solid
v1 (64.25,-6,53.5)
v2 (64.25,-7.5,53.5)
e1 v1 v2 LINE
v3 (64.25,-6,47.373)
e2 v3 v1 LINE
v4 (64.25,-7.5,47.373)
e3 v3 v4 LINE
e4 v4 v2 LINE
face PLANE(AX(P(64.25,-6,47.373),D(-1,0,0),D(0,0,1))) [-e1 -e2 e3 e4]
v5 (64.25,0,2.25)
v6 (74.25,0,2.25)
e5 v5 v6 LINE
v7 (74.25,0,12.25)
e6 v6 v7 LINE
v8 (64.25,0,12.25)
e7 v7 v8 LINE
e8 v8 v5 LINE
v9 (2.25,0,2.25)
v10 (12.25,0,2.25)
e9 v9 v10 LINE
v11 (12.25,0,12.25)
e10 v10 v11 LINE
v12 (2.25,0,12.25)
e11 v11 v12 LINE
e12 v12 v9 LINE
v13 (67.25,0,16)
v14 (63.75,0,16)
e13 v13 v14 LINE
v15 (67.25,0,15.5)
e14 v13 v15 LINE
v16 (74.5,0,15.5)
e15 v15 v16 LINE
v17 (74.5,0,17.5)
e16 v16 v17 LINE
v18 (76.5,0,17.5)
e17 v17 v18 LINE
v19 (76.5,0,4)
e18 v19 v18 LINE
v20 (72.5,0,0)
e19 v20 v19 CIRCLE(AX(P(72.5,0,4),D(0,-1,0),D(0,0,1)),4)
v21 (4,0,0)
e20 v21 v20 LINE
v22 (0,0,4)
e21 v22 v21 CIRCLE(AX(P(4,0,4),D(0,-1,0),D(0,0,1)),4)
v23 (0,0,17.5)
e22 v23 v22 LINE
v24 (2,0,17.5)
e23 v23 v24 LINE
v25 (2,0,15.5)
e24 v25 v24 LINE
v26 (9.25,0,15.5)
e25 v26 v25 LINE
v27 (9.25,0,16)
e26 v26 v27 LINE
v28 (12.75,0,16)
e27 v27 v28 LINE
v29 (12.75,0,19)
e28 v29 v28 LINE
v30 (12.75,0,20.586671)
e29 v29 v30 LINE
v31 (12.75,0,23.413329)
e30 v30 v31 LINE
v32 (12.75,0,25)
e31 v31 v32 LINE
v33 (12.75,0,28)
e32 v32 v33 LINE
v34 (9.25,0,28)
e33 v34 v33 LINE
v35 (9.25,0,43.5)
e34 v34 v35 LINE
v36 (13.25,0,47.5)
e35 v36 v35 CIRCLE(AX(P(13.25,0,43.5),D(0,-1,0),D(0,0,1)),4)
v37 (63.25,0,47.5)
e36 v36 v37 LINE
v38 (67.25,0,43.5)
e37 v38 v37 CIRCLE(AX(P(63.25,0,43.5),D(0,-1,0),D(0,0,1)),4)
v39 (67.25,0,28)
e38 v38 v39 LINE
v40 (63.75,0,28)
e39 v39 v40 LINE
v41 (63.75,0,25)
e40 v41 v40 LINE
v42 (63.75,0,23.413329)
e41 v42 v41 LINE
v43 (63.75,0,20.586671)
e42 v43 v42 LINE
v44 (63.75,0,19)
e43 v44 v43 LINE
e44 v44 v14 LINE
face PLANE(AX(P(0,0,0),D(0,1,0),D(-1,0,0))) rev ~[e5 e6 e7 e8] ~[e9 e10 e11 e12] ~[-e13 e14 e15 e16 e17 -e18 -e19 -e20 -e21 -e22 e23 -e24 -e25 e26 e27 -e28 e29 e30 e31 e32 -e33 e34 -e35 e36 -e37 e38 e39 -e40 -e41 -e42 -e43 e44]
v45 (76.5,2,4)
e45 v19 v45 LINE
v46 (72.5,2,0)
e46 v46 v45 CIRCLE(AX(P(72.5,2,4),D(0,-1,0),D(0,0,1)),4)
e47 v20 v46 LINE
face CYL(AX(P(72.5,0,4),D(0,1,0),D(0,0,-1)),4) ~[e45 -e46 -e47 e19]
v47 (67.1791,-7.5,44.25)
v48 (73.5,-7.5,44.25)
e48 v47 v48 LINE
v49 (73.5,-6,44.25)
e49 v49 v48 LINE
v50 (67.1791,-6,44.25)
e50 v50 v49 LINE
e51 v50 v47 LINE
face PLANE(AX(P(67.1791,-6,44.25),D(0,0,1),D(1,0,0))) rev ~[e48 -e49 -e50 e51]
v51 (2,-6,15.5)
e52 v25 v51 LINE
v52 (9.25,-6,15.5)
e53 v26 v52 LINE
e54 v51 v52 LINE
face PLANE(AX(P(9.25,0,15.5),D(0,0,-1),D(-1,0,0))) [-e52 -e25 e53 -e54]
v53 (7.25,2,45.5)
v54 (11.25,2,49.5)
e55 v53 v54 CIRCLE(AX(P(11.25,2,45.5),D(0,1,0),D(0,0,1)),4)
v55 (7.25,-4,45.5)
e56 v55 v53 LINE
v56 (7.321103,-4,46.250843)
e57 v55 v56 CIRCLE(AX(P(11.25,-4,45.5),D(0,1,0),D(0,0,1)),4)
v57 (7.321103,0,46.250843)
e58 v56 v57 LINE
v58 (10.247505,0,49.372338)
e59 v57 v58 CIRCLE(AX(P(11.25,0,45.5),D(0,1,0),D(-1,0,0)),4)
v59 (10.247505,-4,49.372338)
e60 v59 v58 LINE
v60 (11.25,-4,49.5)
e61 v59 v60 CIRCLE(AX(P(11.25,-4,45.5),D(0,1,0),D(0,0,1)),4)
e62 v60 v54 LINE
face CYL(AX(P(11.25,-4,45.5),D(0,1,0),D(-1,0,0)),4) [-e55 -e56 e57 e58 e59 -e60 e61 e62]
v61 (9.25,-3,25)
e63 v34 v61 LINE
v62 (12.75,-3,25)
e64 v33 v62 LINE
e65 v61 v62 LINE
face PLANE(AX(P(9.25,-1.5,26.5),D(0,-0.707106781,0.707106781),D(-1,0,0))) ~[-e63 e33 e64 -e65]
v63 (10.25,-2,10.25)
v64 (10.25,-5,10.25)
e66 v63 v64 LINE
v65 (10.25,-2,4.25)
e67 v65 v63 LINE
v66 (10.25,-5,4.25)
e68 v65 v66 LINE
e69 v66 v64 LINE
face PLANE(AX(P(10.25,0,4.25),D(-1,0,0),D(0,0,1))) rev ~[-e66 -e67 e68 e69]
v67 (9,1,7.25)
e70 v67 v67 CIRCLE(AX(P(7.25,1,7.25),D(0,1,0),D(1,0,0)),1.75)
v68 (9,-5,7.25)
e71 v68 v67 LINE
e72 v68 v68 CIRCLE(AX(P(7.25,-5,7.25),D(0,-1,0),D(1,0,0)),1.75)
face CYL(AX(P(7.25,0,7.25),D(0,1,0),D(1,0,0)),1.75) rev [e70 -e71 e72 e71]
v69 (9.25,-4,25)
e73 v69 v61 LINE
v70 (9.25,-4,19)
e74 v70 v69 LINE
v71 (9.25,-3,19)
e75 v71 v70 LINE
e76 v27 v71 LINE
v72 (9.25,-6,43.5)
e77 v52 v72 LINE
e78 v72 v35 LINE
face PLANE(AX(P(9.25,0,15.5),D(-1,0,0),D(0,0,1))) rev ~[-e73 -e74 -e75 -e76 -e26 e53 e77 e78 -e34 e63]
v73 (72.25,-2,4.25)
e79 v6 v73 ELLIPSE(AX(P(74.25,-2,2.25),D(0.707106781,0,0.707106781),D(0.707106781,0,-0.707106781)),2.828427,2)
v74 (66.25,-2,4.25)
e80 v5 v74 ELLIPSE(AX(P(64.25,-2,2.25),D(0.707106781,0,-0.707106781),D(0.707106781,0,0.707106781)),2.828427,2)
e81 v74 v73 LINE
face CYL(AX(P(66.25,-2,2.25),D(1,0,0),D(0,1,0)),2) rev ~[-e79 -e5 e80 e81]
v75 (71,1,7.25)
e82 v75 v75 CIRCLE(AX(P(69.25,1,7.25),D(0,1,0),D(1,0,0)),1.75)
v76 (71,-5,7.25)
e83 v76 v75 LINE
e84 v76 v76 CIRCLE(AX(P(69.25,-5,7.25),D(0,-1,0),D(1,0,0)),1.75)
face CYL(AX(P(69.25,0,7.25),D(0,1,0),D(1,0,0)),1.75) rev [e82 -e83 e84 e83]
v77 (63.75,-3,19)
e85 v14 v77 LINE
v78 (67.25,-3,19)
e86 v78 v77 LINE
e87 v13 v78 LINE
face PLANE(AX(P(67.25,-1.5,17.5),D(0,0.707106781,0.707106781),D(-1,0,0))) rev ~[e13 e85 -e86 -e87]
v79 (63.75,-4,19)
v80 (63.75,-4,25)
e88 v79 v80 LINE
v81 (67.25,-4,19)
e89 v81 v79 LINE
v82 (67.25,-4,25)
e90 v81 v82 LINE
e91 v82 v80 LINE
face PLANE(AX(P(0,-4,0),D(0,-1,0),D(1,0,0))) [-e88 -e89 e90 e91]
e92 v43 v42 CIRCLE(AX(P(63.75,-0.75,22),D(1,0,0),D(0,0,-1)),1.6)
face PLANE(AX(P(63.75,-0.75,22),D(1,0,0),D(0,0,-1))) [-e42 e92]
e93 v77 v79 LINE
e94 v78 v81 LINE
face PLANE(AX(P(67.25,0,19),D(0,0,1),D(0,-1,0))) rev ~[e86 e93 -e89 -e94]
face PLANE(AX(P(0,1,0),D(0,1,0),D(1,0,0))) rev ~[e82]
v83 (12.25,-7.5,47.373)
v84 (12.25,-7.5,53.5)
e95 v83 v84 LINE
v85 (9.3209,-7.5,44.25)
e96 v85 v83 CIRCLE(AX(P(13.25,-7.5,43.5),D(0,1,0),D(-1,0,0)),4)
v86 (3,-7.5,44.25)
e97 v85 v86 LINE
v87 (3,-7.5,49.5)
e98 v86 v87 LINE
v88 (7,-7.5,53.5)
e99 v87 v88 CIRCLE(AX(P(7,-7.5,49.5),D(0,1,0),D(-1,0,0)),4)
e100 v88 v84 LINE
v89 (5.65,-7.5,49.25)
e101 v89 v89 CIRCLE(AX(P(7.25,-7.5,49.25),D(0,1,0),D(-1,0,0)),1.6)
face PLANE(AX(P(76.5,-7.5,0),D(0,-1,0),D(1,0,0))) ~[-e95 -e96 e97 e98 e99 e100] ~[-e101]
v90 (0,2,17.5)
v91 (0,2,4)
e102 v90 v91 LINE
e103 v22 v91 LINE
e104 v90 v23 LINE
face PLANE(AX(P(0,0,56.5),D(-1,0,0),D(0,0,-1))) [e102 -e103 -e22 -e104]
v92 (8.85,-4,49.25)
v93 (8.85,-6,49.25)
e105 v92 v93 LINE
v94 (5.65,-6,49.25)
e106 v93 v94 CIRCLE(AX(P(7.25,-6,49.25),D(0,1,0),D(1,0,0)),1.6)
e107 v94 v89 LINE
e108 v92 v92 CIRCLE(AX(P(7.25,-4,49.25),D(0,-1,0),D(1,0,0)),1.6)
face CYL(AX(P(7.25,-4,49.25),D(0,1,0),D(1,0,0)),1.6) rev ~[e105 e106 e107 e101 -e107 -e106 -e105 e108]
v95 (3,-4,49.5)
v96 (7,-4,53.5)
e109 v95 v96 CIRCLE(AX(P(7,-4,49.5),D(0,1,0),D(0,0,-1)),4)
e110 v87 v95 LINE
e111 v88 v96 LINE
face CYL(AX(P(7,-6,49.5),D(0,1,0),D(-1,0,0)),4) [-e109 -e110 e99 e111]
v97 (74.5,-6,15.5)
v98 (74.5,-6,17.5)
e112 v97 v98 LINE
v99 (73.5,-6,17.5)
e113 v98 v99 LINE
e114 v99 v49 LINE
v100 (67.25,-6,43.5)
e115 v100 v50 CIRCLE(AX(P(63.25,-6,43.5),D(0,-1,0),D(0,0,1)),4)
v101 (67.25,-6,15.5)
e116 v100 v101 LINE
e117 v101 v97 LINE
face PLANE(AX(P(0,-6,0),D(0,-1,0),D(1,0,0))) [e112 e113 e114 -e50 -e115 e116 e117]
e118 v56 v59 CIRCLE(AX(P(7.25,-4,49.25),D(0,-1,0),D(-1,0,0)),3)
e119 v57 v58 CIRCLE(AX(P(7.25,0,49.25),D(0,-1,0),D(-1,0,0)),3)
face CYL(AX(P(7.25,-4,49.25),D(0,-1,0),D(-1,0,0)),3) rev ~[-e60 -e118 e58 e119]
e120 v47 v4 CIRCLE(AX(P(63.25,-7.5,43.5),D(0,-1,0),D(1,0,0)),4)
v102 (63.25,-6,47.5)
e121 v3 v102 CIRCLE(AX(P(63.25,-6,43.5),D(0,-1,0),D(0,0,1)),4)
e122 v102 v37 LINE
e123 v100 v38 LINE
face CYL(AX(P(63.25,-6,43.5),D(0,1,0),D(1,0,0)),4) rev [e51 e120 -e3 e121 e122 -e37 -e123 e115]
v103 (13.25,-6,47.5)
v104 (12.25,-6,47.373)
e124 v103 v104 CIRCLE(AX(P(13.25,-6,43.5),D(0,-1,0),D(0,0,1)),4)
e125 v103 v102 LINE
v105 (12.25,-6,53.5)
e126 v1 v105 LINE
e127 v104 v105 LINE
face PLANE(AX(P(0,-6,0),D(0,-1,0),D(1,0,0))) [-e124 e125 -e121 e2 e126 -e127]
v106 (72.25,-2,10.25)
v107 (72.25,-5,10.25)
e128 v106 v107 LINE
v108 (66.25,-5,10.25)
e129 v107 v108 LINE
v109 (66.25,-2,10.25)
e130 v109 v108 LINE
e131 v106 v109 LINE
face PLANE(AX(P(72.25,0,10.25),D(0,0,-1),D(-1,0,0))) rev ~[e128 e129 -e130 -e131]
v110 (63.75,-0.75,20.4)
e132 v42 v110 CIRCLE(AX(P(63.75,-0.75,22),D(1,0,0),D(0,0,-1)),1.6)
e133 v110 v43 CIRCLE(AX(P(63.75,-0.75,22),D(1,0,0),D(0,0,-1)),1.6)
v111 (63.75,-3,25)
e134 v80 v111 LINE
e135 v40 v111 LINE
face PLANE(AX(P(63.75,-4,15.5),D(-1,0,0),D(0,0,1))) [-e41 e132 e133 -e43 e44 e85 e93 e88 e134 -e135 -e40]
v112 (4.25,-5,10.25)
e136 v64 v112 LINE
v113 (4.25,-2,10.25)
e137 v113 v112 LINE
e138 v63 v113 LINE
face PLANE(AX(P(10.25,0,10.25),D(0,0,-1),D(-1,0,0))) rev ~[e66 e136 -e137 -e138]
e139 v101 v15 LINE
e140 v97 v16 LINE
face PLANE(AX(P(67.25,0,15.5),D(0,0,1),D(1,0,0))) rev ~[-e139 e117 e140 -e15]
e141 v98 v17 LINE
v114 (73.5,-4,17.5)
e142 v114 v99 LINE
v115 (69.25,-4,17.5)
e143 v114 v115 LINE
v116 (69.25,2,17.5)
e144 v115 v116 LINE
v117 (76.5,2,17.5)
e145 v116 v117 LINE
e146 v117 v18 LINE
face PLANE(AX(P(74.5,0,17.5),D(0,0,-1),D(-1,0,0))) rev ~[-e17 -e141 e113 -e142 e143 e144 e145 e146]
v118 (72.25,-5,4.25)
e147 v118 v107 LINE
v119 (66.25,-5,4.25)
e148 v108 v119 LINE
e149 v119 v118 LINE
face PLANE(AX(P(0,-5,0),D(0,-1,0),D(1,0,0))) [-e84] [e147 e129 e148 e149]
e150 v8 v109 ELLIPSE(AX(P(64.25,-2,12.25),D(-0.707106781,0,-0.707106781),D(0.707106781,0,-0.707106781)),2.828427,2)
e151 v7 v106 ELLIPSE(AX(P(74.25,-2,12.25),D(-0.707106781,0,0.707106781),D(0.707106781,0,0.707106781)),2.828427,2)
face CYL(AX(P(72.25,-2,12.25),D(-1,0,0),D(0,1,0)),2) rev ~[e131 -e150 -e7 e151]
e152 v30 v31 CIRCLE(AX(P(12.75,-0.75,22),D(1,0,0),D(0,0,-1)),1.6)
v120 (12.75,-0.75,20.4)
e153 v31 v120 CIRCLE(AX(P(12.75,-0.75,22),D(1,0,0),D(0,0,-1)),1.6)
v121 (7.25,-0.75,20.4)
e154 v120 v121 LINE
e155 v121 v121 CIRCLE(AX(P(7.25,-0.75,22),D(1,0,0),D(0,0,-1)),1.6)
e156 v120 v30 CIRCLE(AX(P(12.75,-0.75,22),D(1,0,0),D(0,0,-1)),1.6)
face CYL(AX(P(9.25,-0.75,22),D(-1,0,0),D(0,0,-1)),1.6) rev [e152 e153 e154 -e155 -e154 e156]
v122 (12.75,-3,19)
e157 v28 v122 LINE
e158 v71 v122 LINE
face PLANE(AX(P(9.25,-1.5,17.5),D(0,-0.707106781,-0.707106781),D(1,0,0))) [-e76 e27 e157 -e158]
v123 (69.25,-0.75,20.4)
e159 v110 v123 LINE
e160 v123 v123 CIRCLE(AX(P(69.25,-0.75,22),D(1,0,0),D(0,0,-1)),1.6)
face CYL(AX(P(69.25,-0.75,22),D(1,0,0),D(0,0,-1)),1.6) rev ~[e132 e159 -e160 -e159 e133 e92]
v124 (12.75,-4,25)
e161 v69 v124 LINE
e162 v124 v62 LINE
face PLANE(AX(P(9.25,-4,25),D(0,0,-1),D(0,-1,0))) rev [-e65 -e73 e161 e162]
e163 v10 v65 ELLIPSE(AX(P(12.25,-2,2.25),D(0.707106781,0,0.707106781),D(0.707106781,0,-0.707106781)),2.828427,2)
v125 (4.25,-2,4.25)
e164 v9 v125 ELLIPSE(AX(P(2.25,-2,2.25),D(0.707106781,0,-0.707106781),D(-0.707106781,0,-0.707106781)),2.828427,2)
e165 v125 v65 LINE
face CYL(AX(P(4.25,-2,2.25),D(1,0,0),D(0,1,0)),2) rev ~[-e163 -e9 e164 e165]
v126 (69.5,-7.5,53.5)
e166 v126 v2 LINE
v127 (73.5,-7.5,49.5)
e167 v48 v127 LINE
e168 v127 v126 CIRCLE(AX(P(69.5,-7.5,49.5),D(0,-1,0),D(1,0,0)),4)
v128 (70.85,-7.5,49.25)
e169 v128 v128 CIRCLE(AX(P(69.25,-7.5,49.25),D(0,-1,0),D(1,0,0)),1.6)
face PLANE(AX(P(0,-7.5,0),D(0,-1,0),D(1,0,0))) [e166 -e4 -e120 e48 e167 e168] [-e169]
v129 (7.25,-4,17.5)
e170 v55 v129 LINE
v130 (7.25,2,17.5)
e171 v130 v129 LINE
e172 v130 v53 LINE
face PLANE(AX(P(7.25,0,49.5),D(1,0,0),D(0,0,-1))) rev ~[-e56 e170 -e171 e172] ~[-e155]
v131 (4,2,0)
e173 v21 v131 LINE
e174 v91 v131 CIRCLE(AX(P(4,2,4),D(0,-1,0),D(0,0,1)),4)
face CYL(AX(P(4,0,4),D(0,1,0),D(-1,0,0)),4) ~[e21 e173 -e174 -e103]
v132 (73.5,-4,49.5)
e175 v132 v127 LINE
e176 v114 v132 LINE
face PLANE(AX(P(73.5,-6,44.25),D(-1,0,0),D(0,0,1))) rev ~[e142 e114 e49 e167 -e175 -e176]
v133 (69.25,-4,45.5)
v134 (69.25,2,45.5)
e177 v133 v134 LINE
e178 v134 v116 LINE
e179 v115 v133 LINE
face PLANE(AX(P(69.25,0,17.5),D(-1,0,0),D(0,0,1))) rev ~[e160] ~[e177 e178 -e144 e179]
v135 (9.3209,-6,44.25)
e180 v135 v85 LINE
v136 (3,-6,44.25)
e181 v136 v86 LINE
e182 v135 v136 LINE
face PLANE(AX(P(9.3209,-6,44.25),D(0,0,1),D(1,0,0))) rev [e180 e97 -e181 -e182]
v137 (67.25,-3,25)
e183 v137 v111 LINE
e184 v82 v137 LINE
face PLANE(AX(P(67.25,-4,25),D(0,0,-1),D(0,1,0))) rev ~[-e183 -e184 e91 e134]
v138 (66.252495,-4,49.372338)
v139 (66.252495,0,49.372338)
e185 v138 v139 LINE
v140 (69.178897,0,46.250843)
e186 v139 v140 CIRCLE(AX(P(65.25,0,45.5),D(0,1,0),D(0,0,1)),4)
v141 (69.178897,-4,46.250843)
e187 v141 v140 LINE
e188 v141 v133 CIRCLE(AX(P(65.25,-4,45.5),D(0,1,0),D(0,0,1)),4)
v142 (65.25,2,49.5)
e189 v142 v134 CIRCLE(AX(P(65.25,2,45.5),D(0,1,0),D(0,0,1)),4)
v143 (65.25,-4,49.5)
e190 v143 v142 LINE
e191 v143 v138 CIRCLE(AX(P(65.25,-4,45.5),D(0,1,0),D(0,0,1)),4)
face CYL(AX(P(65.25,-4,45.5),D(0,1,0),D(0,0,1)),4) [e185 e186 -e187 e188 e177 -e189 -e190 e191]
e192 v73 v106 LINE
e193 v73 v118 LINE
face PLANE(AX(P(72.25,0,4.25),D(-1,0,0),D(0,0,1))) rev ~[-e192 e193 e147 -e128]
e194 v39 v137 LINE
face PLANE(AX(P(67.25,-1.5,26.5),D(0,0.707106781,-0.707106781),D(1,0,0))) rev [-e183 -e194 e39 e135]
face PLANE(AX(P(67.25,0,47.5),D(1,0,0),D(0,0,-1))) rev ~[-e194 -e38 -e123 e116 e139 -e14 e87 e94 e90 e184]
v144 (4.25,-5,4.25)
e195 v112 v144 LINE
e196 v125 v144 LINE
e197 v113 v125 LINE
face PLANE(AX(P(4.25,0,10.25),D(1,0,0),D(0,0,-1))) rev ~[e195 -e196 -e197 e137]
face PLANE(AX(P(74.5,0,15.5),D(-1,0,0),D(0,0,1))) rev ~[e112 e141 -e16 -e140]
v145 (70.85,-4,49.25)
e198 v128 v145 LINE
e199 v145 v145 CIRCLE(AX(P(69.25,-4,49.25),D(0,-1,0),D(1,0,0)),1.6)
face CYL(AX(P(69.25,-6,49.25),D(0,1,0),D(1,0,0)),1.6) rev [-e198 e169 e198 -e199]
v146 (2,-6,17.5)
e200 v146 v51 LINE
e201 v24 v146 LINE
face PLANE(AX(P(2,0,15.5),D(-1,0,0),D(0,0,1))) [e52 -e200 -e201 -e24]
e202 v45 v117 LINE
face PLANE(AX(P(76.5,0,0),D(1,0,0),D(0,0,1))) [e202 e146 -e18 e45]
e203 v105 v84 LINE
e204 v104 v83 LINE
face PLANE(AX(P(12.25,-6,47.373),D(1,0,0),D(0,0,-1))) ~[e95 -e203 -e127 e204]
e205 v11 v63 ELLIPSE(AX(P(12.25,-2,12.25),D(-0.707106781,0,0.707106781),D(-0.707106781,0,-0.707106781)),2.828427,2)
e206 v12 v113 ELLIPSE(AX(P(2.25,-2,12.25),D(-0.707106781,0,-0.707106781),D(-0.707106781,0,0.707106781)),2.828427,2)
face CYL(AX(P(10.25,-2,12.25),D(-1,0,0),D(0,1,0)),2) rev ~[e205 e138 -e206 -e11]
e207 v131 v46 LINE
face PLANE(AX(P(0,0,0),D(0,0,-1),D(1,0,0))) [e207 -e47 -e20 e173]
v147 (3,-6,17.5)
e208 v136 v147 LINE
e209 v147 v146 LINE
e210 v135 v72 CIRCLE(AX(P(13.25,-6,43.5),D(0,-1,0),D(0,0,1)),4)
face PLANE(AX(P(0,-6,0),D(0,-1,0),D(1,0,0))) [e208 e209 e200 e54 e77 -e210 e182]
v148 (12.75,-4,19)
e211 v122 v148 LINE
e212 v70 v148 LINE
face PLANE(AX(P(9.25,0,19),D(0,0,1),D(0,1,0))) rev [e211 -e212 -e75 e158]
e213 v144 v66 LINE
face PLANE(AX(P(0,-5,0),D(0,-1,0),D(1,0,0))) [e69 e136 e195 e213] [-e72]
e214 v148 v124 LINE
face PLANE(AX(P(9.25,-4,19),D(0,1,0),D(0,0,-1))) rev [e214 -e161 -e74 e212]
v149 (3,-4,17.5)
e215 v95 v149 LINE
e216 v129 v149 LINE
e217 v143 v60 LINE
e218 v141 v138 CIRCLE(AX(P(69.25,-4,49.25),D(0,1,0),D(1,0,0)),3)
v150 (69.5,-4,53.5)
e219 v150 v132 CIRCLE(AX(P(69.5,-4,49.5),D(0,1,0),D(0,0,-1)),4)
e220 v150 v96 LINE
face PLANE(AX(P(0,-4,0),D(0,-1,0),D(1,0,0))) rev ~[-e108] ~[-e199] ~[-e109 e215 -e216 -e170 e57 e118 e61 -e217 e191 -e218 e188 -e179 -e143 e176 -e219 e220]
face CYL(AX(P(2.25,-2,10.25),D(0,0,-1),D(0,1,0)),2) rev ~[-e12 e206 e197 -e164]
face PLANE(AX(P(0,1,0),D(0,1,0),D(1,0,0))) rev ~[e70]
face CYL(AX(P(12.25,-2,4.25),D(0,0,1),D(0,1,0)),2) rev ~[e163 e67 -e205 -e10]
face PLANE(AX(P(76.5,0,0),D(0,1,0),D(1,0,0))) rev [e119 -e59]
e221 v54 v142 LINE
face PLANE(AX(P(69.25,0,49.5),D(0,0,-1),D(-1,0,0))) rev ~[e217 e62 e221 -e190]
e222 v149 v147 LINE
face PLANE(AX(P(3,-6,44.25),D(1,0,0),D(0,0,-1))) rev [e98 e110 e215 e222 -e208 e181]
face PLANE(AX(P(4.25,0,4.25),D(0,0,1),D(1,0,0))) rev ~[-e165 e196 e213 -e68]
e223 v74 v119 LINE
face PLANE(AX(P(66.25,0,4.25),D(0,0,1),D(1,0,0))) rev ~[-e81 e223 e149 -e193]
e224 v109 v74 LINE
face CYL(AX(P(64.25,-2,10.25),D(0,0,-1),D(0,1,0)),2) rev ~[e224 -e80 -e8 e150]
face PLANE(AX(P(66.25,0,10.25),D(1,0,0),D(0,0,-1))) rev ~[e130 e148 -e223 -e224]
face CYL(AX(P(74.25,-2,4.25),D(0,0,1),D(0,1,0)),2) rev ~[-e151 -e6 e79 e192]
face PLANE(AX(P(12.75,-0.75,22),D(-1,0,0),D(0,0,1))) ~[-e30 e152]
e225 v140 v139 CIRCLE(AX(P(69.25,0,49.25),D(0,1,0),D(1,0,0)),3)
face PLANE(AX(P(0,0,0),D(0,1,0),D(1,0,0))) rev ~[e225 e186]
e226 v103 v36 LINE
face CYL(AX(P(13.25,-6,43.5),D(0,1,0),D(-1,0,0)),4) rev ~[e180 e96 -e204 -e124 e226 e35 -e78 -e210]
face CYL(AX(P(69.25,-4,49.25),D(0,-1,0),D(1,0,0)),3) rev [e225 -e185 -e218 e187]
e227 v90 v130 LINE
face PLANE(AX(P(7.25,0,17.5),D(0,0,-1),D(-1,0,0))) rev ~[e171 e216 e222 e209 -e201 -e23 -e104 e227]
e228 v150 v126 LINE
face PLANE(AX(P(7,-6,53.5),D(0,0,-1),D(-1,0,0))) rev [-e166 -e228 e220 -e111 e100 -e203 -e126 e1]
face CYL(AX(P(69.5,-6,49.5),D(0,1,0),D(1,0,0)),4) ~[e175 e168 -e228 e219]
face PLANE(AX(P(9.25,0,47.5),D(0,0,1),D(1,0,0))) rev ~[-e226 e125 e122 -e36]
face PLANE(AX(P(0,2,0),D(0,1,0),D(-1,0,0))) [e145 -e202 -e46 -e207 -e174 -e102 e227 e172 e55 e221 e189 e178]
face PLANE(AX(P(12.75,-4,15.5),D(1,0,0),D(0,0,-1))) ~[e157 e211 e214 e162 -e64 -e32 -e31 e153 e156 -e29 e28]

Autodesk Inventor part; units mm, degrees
ref_plane "YZ Plane" through (0, 0, 0) normal (1, 0, 0) x (0, 1, 0)
ref_plane "XZ Plane" through (0, 0, 0) normal (0, 1, 0) x (-1, 0, 0)
ref_plane "XY Plane" through (0, 0, 0) normal (0, 0, 1) x (1, 0, 0)
sketch "Sketch1" plane through (0, 0, 0) normal (0, 1, 0) x (-1, 0, 0)
  line L0 (0, 0) -> (-76.5, 0)
  line L1 (-76.5, 0) -> (-76.5, 56.5)
  line L2 (-76.5, 56.5) -> (0, 56.5)
  line L3 (0, 56.5) -> (0, 0)
  dimension "d0" = 76.5
  dimension "d1" = 56.5
extrude "Extrusion1" add sketch "Sketch1" along normal blind 2
ref_plane "Work Plane1" through (0, 0, 28.25) normal (0, 0, 1) x (1, 0, 0)
ref_plane "Work Plane2" through (38.25, 0, 0) normal (-1, 0, 0) x (0, 0, 1)
sketch "Sketch2" plane through (0, 2, 0) normal (0, 1, 0) x (1, 0, 0)
  line L0 (38.25, -67.8) -> (38.25, 11.3) construction
  line L1 (91.8, -28.25) -> (-15.3, -28.25) construction
  line L2 (7.25, -7.25) -> (69.25, -7.25) construction
  line L3 (69.25, -7.25) -> (69.25, -49.25) construction
  line L4 (69.25, -49.25) -> (7.25, -49.25) construction
  line L5 (7.25, -49.25) -> (7.25, -7.25) construction
  circle A0 centre (7.25, -7.25) radius 1.75
  circle A1 centre (69.25, -7.25) radius 1.75
  point P0 (0, 0)
  dimension "d4" = 62
  dimension "d5" = 42
  dimension "d6" = 3.5
  dimension "d7" = 3.5
sketch "Sketch3" plane through (0, 2, 0) normal (0, 1, 0) x (1, 0, 0)
  line L0 (76.5, 0) -> (0, 0) projected
  line L1 (0, 0) -> (0, -56.5) projected
  line L2 (0, -56.5) -> (76.5, -56.5) projected
  line L3 (76.5, -56.5) -> (76.5, 0) projected
  line L4 (0, -56.5) -> (0, 0) projected
  line L5 (0, -17.5) -> (7.25, -17.5)
  line L6 (7.25, -17.5) -> (7.25, -49.5)
  line L7 (7.25, -49.5) -> (69.25, -49.5)
  line L8 (69.25, -49.5) -> (69.25, -17.5)
  line L9 (69.25, -17.5) -> (76.5, -17.5)
  line L10 (38.25, -67.8) -> (38.25, 11.3) construction
  dimension "d12" = 62
  dimension "d13" = 7
  dimension "d14" = 39
extrude "Extrusion3" cut sketch "Sketch3" against normal up to surface (2 mm away) contours L3 L2 L1 L5 L6 L7 L8 L9
extrude "Extrusion4" cut sketch "Sketch2" against normal up to surface (2 mm away)
sketch "Sketch4" plane through (0, 0, 0) normal (0, -1, 0) x (1, 0, 0)
  line L0 (7.25, 17.5) -> (0, 17.5) projected
  line L1 (7.25, 49.5) -> (7.25, 17.5) projected
  line L2 (69.25, 49.5) -> (7.25, 49.5) projected
  line L3 (69.25, 17.5) -> (69.25, 49.5) projected
  line L4 (76.5, 17.5) -> (69.25, 17.5) projected
  line L5 (0, 17.5) -> (0, 0) projected
  line L6 (76.5, 0) -> (76.5, 17.5) projected
  line L7 (9.25, 15.5) -> (9.25, 47.5)
  line L8 (9.25, 47.5) -> (67.25, 47.5)
  line L9 (67.25, 47.5) -> (67.25, 15.5)
  line L10 (67.25, 15.5) -> (74.5, 15.5)
  line L11 (74.5, 15.5) -> (74.5, 17.5)
  line L12 (69.25, 17.5) -> (76.5, 17.5) projected
  line L13 (9.25, 15.5) -> (2, 15.5)
  line L14 (2, 15.5) -> (2, 17.5)
  dimension "d20" = 2
  dimension "d21" = 2
  dimension "d22" = 2
  dimension "d25" = 2
  dimension "d26" = 2
  dimension "d27" = 2
extrude "Extrusion5" add sketch "Sketch4" along normal blind 4
sketch "Sketch5" plane through (69.25, 2, 49.5) normal (1, 0, 0) x (0, 0, -1)
  line L0 (32, 0) -> (32, -6) construction
  line L1 (0, 0) -> (32, 0) construction
  line L2 (0, 0) -> (0, -6) construction
  line L3 (32, -6) -> (0, -6) construction
  circle A0 centre (27.5, -2.75) radius 1.6
  point P0 (49.5, -2)
  dimension "d28" = 3.2
  dimension "d29" = 2.75
  dimension "d30" = 4.5
extrude "Extrusion6" cut sketch "Sketch5" against normal up to surface (2 mm away)
sketch "Sketch6" plane through (67.25, -4, 15.5) normal (-1, 0, 0) x (0, 0, 1)
  arc A0 (5.0867, 4) -> (7.9133, 4) centre (6.5, 3.25) ccw projected
  line L0 (0, 4) -> (5.0867, 4) projected
  line L1 (7.9133, 4) -> (32, 4) projected
  line L2 (9.5, 4) -> (3.5, 4)
  line L3 (3.5, 4) -> (3.5, 0)
  line L4 (3.5, 0) -> (9.5, 0)
  line L5 (9.5, 0) -> (9.5, 4)
  line L6 (6.5, 3.25) -> (6.5, 4) construction
  point P0 (-15.5, 4)
  dimension "d33" = 6
  dimension "d34" = 4
extrude "Extrusion7" add sketch "Sketch6" along normal blind 3.5
sketch "Sketch7" plane through (67.25, -0.75, 22) normal (1, 0, 0) x (0, 0, -1)
  circle A0 centre (0, 0) radius 1.6 projected
  point P0 (22, 0.75)
extrude "Extrusion8" cut sketch "Sketch7" against normal up to surface (3.5 mm away)
sketch "Sketch8" plane through (0, -4, 0) normal (0, -1, 0) x (1, 0, 0)
  line L0 (7.25, 17.5) -> (2, 17.5) projected
  line L1 (2, 17.5) -> (2, 15.5) projected
  line L2 (2, 15.5) -> (9.25, 15.5) projected
  line L3 (9.25, 15.5) -> (9.25, 47.5) projected
  line L4 (9.25, 47.5) -> (67.25, 47.5) projected
  line L5 (67.25, 47.5) -> (67.25, 25) projected
  line L6 (67.25, 15.5) -> (74.5, 15.5) projected
  line L7 (74.5, 15.5) -> (74.5, 17.5) projected
  line L8 (74.5, 17.5) -> (69.25, 17.5) projected
  line L9 (69.25, 17.5) -> (69.25, 49.5) projected
  line L10 (69.25, 49.5) -> (7.25, 49.5) projected
  line L11 (7.25, 49.5) -> (7.25, 17.5) projected
  line L12 (73.5, 17.5) -> (73.5, 53.5)
  line L13 (73.5, 53.5) -> (3, 53.5)
  line L14 (3, 53.5) -> (3, 17.5)
  line L15 (74.5, 17.5) -> (69.25, 17.5) projected
  line L16 (7.25, 17.5) -> (2, 17.5) projected
  line L17 (67.25, 25) -> (63.75, 25) construction
  line L18 (63.75, 19) -> (63.75, 25) construction
  line L19 (67.25, 19) -> (63.75, 19) construction
  line L20 (67.25, 19) -> (67.25, 15.5) projected
  line L21 (67.25, 25) -> (67.25, 19)
  point P0 (0, 0)
  dimension "d39" = 53.5
  dimension "d65" = 1
  dimension "d66" = 1
extrude "Extrusion9" add sketch "Sketch8" along normal blind 2
fillet "Fillet1" radius 4 4 edges at (0, 1, 0) (76.5, 1, 0) (3, -5, 53.5) (73.5, -5, 53.5)
fillet "Fillet2" radius 4 4 edges at (7.25, -1, 49.5) (69.25, -1, 49.5) (9.25, -3, 47.5) (67.25, -3, 47.5)
sketch "Sketch9" plane through (0, 0, 0) normal (0, -1, 0) x (1, 0, 0)
  circle A0 centre (69.25, 7.25) radius 1.75 projected
  circle A1 centre (7.25, 7.25) radius 1.75 projected
  line L0 (72.25, 10.25) -> (66.25, 10.25)
  line L1 (66.25, 10.25) -> (66.25, 4.25)
  line L2 (66.25, 4.25) -> (72.25, 4.25)
  line L3 (72.25, 4.25) -> (72.25, 10.25)
  line L4 (72.25, 10.25) -> (66.25, 4.25) construction
  line L5 (66.25, 10.25) -> (72.25, 4.25) construction
  line L6 (10.25, 10.25) -> (4.25, 10.25)
  line L7 (4.25, 10.25) -> (4.25, 4.25)
  line L8 (4.25, 4.25) -> (10.25, 4.25)
  line L9 (10.25, 4.25) -> (10.25, 10.25)
  line L10 (10.25, 10.25) -> (4.25, 4.25) construction
  line L11 (4.25, 10.25) -> (10.25, 4.25) construction
  point P0 (0, 0)
  dimension "d44" = 6
  dimension "d45" = 6
  dimension "d46" = 6
  dimension "d47" = 6
extrude "Extrusion10" add sketch "Sketch9" along normal blind 5
sketch "Sketch10" plane through (0, 2, 0) normal (0, 1, 0) x (1, 0, 0)
  circle A0 centre (69.25, -7.25) radius 1.75 projected
  circle A1 centre (7.25, -7.25) radius 1.75 projected
  point P0 (0, 0)
extrude "Extrusion11" add sketch "Sketch10" against normal blind 1
sketch "Sketch11" plane through (0, -4, 0) normal (0, 1, 0) x (1, 0, 0)
  circle A0 centre (7.25, -7.25) radius 1.75 construction
  circle A1 centre (69.25, -7.25) radius 1.75 construction
  circle A2 centre (69.25, -7.25) radius 1.75 construction
  line L0 (7.25, -7.25) -> (69.25, -7.25) construction
  line L1 (69.25, -7.25) -> (69.25, -49.25) construction
  line L2 (69.25, -49.25) -> (7.25, -49.25) construction
  line L3 (7.25, -49.25) -> (7.25, -7.25) construction
  circle A3 centre (7.25, -49.25) radius 1.6
  circle A4 centre (69.25, -49.25) radius 1.6
  point P0 (0, 0)
  dimension "d52" = 3.2
  dimension "d53" = 3.2
  dimension "d54" = 42
extrude "Extrusion12" cut sketch "Sketch11" against normal up to surface (2 mm away)
sketch "Sketch14" plane through (0, -6, 0) normal (0, -1, 0) x (1, 0, 0)
  arc A0 (73.5, 49.5) -> (69.5, 53.5) centre (69.5, 49.5) ccw projected
  line L0 (73.5, 17.5) -> (73.5, 49.5) projected
  line L1 (69.5, 53.5) -> (7, 53.5) projected
  arc A1 (67.25, 43.5) -> (63.25, 47.5) centre (63.25, 43.5) ccw projected
  line L2 (67.25, 43.5) -> (67.25, 15.5) projected
  line L3 (13.25, 47.5) -> (63.25, 47.5) projected
  circle A2 centre (69.25, 49.25) radius 1.6 projected
  line L4 (67.1791, 44.25) -> (73.5, 44.25)
  line L5 (63.25, 47.5) -> (13.25, 47.5) projected
  line L6 (64.25, 47.373) -> (64.25, 53.5)
  line L7 (69.5, 53.5) -> (7, 53.5) projected
  point P0 (0, 0)
  dimension "d67" = 5
  dimension "d68" = 5
extrude "Extrusion15" add sketch "Sketch14" along normal blind 1.5
sketch "Sketch15" plane through (0, -4, 0) normal (0, 1, 0) x (1, 0, 0)
  arc A0 (67.7939, -48.5868) -> (68.4944, -47.8397) centre (69.25, -49.25) ccw projected
  circle A1 centre (69.25, -49.25) radius 3
  point P0 (0, 0)
  dimension "d71" = 6
extrude "Extrusion16" cut sketch "Sketch15" along normal blind 4
mirror "Mirror2" about plane through (38.25, 0, 0) normal (-1, 0, 0) of "Extrusion16", "Extrusion15"
fillet "Fillet3" radius 2 8 edges at (7.25, 0, 10.25) (4.25, 0, 7.25) (7.25, 0, 4.25) (10.25, 0, 7.25) (69.25, 0, 4.25) (66.25, 0, 7.25) (72.25, 0, 7.25) (69.25, 0, 10.25)
mirror "Mirror4" about plane through (38.25, 0, 0) normal (-1, 0, 0) of "Extrusion6", "Extrusion7", "Extrusion8"
chamfer "Chamfer1" distance 3 angle 45 4 edges at (11, 0, 19) (11, 0, 25) (65.5, 0, 25) (65.5, 0, 19)
sketch "Sketch16" plane through (0, -4, 0) normal (0, 1, 0) x (1, 0, 0)
  circle A0 centre (7.25, -49.25) radius 1.6 projected
  circle A1 centre (69.25, -49.25) radius 1.6 projected
  point P0 (0, 0)
extrude "Extrusion17" [suppressed]
equation "\"d7\" = d6"
equation "\"d21\" = d20"
equation "\"d22\" = d21"
equation "\"d26\" = d25"
equation "\"d45\" = d44"
equation "\"d46\" = d45"
equation "\"d47\" = d45"
equation "\"d68\" = d67"
properties part number "case_back"
